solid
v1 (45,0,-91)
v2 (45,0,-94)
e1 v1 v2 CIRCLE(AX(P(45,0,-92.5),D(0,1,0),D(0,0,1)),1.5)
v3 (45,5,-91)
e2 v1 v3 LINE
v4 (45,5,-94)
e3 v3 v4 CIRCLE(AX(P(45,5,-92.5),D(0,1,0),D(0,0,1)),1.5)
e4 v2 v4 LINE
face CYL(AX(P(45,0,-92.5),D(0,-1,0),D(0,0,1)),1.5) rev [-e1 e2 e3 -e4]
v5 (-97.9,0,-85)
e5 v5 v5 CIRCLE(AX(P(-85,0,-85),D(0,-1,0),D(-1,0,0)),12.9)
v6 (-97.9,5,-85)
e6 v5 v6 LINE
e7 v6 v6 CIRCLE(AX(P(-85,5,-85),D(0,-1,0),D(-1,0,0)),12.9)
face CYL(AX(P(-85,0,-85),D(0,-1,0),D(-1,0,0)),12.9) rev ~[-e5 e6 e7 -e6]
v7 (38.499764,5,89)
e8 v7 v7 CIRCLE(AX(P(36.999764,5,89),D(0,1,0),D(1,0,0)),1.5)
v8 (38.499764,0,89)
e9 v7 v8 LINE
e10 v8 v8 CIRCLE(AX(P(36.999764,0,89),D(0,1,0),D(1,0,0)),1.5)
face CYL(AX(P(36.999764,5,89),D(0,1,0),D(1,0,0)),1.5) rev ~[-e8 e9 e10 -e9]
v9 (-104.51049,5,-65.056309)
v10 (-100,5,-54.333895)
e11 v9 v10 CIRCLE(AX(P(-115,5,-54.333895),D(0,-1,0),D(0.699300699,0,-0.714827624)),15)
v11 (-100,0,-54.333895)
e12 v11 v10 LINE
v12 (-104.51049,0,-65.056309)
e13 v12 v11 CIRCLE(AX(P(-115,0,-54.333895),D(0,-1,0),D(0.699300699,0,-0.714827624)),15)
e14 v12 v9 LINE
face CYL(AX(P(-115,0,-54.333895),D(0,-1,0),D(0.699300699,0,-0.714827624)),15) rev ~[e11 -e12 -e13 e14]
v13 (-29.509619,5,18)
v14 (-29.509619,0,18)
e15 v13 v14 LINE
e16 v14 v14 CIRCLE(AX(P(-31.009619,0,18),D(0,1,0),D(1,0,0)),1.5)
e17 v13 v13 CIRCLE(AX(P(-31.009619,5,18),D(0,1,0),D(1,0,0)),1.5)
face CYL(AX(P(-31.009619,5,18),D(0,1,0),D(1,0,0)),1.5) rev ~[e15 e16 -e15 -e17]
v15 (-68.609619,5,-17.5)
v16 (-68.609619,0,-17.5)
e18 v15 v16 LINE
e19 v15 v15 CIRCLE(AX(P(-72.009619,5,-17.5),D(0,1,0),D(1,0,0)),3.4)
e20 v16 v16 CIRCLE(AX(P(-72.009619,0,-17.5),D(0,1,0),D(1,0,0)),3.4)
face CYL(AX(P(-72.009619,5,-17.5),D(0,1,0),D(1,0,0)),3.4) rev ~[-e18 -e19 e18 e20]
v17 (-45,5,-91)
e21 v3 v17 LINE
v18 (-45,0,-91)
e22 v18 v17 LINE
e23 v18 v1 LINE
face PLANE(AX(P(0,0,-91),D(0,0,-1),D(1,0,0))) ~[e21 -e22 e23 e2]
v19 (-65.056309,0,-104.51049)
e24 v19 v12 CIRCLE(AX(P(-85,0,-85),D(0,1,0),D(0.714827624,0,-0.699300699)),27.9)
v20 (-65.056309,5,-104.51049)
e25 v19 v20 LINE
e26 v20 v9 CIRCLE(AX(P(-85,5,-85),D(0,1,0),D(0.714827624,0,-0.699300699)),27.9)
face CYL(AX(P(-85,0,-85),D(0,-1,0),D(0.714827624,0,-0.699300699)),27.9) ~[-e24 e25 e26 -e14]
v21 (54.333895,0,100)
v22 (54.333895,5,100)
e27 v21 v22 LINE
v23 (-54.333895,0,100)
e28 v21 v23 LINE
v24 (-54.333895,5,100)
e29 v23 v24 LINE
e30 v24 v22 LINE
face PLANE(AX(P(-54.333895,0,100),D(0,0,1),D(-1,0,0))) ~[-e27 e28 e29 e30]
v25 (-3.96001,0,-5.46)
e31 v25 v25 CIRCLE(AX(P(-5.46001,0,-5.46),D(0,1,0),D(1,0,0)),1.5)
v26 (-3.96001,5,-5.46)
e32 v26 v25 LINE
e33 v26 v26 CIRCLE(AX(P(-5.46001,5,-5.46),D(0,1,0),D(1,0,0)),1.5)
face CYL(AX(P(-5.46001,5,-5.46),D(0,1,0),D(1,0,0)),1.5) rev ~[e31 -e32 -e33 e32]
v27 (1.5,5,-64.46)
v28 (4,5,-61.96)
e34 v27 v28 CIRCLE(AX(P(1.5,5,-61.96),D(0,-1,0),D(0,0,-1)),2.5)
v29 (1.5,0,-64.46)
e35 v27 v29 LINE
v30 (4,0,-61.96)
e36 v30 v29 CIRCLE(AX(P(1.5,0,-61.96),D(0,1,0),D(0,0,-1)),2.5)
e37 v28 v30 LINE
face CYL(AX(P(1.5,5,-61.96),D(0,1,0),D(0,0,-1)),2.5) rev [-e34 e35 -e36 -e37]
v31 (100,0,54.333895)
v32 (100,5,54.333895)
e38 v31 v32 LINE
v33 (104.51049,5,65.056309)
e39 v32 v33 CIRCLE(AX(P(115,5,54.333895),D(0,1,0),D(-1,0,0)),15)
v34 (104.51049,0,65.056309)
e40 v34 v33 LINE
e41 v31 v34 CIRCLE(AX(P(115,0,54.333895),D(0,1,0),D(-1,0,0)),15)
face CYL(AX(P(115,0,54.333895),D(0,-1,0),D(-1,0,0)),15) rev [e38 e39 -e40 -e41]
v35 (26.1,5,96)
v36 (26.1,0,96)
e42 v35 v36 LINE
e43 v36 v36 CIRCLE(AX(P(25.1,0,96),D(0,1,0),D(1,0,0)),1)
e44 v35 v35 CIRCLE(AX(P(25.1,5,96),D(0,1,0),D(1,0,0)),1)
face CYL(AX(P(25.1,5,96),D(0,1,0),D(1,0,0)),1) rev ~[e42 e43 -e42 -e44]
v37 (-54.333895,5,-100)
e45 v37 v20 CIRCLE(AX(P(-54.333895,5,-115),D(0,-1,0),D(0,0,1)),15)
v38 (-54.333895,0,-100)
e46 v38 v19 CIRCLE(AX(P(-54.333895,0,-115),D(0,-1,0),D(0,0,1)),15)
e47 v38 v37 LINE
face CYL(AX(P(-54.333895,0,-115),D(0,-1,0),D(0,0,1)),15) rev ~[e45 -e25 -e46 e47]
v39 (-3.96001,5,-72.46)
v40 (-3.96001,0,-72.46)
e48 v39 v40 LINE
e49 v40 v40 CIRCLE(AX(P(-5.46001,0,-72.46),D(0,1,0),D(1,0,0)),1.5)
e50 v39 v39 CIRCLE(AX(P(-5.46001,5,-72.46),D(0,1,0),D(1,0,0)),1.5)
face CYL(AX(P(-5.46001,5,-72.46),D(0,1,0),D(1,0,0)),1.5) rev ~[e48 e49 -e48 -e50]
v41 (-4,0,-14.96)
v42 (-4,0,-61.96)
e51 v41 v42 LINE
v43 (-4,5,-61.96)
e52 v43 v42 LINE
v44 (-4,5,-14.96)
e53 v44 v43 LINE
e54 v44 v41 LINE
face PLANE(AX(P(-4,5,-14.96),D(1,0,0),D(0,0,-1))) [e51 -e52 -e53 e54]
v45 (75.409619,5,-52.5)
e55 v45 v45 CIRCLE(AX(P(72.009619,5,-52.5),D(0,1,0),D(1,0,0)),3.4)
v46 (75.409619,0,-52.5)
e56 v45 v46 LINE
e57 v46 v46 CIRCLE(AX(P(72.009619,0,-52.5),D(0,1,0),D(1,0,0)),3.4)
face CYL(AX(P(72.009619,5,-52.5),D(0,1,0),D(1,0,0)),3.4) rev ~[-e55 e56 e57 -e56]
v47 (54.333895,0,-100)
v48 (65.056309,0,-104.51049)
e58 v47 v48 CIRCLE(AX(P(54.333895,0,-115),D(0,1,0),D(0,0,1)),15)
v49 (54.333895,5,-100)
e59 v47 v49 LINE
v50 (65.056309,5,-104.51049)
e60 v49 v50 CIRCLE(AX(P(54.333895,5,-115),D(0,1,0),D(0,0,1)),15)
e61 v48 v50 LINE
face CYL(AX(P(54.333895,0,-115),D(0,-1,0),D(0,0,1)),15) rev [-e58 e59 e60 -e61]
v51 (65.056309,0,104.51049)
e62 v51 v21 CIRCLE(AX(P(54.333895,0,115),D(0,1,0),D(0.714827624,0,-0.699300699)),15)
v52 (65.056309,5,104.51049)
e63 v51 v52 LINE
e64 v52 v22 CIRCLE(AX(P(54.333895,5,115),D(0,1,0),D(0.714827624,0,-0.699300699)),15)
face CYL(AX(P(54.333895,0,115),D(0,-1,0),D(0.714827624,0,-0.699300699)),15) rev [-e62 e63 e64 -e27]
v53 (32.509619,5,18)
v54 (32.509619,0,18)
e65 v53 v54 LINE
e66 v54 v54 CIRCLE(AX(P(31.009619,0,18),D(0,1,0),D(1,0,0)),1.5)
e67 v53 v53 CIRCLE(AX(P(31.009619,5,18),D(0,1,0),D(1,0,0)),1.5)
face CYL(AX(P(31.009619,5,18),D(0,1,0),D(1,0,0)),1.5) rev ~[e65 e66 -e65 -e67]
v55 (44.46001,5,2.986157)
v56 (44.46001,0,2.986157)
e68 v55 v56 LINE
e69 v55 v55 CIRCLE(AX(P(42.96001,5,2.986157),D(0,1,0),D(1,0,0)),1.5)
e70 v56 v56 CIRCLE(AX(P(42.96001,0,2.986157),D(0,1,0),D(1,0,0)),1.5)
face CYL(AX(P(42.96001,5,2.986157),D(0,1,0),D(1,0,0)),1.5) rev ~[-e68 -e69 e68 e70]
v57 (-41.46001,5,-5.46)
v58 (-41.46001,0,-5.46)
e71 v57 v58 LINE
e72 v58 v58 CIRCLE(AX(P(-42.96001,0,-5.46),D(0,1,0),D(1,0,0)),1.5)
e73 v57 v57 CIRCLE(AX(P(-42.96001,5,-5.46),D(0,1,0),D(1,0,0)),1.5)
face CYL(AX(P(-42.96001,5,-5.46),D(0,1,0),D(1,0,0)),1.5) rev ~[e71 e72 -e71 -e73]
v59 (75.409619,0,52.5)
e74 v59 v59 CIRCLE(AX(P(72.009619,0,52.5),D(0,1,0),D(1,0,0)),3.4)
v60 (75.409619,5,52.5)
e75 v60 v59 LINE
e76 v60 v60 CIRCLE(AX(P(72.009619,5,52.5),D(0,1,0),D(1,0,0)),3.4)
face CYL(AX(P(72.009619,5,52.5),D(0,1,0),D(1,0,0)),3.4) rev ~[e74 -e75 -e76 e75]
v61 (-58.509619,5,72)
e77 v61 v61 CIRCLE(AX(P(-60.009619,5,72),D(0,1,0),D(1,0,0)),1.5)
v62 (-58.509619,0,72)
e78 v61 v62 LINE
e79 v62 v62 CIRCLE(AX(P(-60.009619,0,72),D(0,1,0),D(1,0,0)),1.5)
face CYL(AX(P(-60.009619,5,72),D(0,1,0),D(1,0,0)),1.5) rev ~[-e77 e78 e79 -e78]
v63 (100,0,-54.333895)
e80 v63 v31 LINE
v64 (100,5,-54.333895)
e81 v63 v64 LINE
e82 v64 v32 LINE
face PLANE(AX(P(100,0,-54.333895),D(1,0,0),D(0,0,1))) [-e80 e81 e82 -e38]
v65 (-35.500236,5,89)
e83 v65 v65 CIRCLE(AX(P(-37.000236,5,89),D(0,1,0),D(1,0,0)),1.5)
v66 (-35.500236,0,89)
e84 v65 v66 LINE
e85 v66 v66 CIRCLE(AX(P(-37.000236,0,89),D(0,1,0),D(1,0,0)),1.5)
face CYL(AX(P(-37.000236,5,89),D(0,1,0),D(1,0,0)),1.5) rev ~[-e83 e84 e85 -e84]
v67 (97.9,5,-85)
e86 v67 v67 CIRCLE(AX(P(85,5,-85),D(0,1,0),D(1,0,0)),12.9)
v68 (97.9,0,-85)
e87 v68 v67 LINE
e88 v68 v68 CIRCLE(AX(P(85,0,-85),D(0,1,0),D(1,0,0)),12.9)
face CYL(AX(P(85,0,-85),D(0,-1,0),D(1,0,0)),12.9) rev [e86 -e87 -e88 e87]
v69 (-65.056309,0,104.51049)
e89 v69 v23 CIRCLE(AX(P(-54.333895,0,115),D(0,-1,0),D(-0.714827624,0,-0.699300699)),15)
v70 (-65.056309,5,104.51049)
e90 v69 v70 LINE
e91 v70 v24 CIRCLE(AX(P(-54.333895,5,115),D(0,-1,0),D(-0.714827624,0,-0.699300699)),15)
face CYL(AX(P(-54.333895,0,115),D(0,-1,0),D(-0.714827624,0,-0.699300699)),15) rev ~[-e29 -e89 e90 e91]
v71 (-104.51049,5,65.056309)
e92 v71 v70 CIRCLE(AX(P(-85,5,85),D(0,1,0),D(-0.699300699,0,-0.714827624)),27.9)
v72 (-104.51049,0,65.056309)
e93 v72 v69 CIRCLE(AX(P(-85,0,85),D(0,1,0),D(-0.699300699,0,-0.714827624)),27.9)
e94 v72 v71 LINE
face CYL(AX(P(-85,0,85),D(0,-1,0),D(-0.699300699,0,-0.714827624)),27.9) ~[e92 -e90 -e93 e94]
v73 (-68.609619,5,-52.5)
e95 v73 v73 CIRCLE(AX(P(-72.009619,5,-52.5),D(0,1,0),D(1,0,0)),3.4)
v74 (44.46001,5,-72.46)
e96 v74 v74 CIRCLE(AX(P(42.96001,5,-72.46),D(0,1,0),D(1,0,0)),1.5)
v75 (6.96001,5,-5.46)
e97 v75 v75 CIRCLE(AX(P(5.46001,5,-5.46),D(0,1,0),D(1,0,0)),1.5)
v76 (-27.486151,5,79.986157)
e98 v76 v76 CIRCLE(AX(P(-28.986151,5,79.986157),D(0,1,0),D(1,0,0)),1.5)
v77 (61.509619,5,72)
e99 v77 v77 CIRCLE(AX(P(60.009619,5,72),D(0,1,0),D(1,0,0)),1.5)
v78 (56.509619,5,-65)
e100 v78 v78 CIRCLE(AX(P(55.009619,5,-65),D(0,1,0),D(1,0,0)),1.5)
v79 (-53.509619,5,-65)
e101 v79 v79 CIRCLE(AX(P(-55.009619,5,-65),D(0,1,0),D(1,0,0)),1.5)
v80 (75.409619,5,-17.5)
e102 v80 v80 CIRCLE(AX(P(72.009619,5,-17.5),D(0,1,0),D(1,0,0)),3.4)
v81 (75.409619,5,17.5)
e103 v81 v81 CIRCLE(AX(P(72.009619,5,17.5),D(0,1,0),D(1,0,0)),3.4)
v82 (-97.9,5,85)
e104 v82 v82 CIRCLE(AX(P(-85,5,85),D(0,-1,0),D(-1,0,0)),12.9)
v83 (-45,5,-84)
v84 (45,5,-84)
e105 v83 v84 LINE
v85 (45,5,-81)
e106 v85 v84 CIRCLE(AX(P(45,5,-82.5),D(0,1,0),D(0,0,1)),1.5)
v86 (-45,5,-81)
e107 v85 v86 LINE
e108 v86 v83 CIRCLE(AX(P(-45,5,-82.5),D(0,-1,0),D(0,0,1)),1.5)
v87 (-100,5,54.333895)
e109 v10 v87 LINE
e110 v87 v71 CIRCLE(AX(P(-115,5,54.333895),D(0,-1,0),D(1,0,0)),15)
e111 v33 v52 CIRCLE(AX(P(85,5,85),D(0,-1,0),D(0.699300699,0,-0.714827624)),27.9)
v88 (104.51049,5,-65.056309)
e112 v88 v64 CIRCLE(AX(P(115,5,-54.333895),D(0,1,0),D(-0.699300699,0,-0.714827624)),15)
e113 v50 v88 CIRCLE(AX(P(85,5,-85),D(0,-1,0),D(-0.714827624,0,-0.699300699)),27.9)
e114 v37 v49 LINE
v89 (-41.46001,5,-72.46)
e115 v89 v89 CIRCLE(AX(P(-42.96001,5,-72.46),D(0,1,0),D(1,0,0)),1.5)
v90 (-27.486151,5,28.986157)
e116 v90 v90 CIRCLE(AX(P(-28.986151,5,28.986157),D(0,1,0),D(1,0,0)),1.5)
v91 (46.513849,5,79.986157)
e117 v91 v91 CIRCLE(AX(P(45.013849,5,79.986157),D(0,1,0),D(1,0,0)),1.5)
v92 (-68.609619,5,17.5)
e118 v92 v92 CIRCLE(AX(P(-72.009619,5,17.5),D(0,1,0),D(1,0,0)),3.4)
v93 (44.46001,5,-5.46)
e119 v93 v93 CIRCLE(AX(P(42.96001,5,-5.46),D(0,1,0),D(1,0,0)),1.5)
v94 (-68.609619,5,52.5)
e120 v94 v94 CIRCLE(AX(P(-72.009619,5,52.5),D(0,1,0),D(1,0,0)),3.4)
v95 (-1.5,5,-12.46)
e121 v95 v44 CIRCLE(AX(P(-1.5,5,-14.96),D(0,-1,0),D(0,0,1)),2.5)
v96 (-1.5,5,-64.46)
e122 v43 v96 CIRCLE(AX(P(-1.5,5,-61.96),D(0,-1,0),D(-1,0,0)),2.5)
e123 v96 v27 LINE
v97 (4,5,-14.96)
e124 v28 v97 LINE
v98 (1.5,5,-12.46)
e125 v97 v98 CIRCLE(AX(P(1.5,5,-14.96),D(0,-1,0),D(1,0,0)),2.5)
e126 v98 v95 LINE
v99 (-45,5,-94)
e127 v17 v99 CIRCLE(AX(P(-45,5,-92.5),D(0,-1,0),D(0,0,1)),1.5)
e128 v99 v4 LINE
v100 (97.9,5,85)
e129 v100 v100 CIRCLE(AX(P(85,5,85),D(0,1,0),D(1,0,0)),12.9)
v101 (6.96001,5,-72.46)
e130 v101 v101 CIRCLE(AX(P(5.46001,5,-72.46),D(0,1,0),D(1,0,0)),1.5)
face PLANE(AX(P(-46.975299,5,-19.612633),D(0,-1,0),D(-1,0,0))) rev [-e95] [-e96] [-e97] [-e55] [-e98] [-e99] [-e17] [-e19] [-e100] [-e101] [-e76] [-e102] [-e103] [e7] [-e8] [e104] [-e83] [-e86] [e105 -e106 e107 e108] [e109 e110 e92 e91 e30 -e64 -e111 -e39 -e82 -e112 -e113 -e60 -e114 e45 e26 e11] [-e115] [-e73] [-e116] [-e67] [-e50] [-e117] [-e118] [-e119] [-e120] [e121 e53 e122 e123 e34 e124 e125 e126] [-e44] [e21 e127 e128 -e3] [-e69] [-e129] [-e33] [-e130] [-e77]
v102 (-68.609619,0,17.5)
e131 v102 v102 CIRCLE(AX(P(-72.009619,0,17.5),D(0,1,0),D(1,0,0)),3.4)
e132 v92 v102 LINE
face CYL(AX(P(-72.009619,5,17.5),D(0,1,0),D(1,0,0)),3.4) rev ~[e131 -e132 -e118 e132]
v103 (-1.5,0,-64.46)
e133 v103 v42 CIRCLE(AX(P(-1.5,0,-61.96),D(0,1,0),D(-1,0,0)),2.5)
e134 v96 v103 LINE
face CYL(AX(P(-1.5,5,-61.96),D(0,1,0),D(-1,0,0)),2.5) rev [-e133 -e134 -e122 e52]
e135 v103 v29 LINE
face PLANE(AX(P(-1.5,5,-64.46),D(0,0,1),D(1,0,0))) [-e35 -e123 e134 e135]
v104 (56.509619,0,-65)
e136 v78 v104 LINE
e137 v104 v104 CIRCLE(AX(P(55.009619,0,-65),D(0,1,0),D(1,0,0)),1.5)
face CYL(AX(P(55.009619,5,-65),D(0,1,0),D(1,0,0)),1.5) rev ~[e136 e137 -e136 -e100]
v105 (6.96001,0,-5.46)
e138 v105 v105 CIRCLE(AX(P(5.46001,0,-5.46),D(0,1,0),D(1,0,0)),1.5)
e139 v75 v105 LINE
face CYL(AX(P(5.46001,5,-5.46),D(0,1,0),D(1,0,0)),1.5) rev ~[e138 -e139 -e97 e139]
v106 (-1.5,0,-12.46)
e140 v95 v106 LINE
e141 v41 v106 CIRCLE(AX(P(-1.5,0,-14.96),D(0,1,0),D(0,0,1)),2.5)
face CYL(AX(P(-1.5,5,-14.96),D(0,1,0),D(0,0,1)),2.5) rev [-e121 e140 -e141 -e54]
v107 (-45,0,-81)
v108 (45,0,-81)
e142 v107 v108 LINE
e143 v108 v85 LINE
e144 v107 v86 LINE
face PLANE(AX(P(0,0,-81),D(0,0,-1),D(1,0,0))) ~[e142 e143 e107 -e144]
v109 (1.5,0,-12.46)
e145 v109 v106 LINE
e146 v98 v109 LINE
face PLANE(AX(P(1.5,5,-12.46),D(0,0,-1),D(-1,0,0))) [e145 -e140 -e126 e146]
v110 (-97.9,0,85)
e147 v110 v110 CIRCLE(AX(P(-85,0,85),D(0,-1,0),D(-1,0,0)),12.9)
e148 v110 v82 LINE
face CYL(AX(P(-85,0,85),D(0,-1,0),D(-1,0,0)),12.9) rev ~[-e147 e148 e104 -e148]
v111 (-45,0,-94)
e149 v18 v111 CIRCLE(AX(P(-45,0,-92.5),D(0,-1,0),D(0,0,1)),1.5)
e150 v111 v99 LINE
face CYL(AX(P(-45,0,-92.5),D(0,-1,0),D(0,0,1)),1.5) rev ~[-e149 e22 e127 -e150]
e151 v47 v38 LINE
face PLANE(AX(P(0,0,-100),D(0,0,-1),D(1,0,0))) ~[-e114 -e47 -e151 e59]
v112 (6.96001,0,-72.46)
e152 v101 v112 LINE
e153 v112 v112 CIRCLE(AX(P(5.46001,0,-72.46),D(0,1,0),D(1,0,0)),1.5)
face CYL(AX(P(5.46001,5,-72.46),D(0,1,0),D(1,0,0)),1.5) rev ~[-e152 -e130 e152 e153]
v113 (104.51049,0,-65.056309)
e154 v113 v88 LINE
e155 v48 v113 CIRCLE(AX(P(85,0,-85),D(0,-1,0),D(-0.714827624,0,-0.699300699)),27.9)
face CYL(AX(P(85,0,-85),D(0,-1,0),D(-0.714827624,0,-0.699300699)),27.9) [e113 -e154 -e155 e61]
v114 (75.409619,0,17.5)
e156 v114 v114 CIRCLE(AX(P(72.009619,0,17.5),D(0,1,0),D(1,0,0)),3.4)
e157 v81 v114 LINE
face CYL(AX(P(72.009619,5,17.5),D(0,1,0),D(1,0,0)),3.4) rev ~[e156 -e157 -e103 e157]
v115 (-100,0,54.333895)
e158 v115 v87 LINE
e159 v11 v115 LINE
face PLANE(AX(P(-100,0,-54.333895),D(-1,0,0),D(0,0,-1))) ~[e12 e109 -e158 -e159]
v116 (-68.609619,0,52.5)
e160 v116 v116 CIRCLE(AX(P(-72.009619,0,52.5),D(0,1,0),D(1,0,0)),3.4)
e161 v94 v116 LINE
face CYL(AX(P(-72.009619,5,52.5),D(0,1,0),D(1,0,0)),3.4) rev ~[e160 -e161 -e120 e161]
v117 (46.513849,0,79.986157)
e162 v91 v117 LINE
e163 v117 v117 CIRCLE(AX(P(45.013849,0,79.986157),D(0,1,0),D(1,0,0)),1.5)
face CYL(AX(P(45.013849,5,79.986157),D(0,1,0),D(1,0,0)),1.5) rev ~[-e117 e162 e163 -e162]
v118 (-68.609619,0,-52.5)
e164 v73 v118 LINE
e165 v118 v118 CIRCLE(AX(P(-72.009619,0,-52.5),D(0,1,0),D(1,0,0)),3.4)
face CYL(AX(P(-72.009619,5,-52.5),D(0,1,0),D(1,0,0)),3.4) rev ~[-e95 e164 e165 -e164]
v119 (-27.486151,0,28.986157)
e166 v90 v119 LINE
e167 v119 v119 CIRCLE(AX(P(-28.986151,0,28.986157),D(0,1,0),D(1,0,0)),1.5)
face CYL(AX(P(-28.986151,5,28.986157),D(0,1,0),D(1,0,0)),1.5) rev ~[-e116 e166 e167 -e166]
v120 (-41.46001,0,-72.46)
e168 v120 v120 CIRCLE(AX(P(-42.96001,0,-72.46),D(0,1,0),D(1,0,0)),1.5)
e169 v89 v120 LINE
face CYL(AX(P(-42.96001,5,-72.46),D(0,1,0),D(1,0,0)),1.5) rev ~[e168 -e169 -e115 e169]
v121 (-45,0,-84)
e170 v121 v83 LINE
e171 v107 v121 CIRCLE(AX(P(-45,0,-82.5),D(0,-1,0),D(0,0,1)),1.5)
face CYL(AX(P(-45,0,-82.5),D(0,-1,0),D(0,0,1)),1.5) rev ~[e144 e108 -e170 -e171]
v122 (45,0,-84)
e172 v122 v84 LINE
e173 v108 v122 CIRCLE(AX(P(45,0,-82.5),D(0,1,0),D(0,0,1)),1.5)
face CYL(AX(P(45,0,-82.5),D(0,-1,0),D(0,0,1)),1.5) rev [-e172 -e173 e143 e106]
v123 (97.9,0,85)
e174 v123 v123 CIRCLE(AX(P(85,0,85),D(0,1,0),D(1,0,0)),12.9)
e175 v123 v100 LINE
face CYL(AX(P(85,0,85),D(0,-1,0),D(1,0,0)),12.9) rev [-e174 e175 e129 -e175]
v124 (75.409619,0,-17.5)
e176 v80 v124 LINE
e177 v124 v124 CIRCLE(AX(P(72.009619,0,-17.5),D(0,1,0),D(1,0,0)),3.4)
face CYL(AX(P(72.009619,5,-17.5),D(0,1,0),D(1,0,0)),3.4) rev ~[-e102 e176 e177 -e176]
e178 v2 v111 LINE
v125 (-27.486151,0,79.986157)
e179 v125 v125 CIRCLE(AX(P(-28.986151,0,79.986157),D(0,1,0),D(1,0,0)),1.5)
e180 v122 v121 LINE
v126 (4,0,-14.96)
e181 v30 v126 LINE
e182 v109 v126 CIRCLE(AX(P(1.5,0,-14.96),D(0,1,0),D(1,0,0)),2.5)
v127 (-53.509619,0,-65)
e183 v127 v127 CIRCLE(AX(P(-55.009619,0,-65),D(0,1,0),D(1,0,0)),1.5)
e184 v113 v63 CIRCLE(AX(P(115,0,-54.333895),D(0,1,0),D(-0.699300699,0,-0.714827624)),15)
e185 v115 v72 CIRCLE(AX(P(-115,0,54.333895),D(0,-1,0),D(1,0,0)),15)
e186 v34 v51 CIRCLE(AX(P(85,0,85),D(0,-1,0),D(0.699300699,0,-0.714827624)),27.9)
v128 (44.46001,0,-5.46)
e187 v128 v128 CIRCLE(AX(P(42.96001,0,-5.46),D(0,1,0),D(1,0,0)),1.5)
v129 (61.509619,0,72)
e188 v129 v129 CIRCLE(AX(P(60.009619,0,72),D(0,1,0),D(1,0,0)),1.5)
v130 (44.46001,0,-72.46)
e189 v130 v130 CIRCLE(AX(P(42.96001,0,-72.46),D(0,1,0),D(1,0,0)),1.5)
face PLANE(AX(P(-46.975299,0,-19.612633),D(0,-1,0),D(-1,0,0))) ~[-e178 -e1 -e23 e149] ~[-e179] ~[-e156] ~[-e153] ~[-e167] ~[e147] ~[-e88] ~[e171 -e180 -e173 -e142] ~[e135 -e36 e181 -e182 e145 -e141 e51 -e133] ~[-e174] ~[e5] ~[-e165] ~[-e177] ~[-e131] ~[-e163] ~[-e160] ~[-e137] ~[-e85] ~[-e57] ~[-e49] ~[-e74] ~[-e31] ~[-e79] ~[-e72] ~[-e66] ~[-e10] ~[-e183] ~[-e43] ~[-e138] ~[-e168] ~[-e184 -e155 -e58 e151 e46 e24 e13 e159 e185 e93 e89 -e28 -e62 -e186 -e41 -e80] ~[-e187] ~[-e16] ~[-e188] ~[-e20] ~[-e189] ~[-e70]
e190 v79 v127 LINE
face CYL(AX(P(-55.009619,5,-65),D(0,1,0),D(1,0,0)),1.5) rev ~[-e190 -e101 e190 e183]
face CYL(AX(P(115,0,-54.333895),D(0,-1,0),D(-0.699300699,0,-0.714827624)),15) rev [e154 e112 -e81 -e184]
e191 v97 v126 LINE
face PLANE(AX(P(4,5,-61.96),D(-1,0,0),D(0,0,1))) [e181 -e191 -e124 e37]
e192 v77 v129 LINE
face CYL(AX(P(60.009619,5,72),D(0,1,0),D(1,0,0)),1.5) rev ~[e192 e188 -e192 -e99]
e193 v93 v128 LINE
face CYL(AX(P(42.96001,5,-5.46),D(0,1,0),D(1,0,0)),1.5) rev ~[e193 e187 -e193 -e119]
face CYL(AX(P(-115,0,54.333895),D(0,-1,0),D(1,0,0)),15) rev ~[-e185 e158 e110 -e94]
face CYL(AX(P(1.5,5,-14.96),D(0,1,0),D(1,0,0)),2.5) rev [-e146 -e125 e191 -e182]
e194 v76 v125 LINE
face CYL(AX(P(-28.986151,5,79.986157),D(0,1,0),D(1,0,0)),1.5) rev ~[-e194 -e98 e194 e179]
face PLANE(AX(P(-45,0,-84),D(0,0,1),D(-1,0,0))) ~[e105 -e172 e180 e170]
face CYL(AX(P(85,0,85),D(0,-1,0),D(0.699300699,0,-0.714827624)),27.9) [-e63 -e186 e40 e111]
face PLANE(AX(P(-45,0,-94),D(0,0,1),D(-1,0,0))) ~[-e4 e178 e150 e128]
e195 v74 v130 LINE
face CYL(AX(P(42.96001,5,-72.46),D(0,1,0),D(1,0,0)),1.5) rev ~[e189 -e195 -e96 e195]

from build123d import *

# Parameters (mm, degrees)
SKETCH1_R          = 12.9
BASE_DEPTH         = 5
SKETCH2_R          = 1.5
SKETCH2_R_2        = 3.4
SKETCH2_R_3        = 1
CUT_EXTRUDE1_DEPTH = 6
CUT_EXTRUDE2_DEPTH = 6
SKETCH4_R          = 1.5
CUT_EXTRUDE3_DEPTH = 6


with BuildPart() as part:
    # Sketch1 → Base (new body)
    with BuildSketch(Plane(origin=(0, 0, 0), x_dir=(1, 0, 0), z_dir=(0, 1, 0))):
        with BuildLine():
            Line((0, 100), (54.333894933, 100))
            ThreePointArc((54.333894933, 100), (60.150136961, 101.173527975), (65.056309292, 104.51048951))
            ThreePointArc((65.056309292, 104.51048951), (104.728279195, 104.728279195), (104.51048951, 65.056309292))
            ThreePointArc((104.51048951, 65.056309292), (101.173527975, 60.150136961), (100, 54.333894933))
            Line((100, 54.333894933), (100, -54.333894933))
            ThreePointArc((100, -54.333894933), (101.173527975, -60.150136961), (104.51048951, -65.056309292))
            ThreePointArc((104.51048951, -65.056309292), (104.728279195, -104.728279195), (65.056309292, -104.51048951))
            ThreePointArc((65.056309292, -104.51048951), (60.150136961, -101.173527975), (54.333894933, -100))
            Line((54.333894933, -100), (0, -100))
            Line((0, -100), (0, 81))
            Line((0, 81), (45, 81))
            ThreePointArc((45, 81), (46.5, 82.5), (45, 84))
            Line((45, 84), (0, 84))
            Line((0, 84), (0, 91))
            Line((0, 91), (45, 91))
            ThreePointArc((45, 91), (46.5, 92.5), (45, 94))
            Line((45, 94), (0, 94))
            Line((0, 94), (0, 100))
        make_face()
        with Locations((85, 85)):
            Circle(SKETCH1_R, mode=Mode.SUBTRACT)
        with Locations((85, -85)):
            Circle(SKETCH1_R, mode=Mode.SUBTRACT)
    base = extrude(amount=BASE_DEPTH)

    # Mirror1: Base across plane
    add(base.mirror(Plane(origin=(0, 0, 0), x_dir=(0, 0, 1), z_dir=(1, 0, 0))))

    # Sketch2 → Cut-Extrude1 (cut, through all)
    with BuildSketch(Plane(origin=(0, 5, 0), x_dir=(1, 0, 0), z_dir=(0, 1, 0))):
        with Locations((-42.960009902, 72.46)):
            Circle(SKETCH2_R)
        with Locations((-5.460009902, 72.46)):
            Circle(SKETCH2_R)
        with Locations((5.460009902, 72.46)):
            Circle(SKETCH2_R)
        with Locations((42.960009902, 72.46)):
            Circle(SKETCH2_R)
        with Locations((72.009618943, 52.5)):
            Circle(SKETCH2_R_2)
        with Locations((-28.986150524, -79.986157497)):
            Circle(SKETCH2_R)
        with Locations((72.009618943, -17.5)):
            Circle(SKETCH2_R_2)
        with Locations((72.009618943, -52.5)):
            Circle(SKETCH2_R_2)
        with Locations((42.960009902, 5.46)):
            Circle(SKETCH2_R)
        with Locations((42.960009902, -2.986157497)):
            Circle(SKETCH2_R)
        with Locations((5.460009902, 5.46)):
            Circle(SKETCH2_R)
        with Locations((-5.460009902, 5.46)):
            Circle(SKETCH2_R)
        with Locations((-28.986150524, -28.986157497)):
            Circle(SKETCH2_R)
        with Locations((-42.960009902, 5.46)):
            Circle(SKETCH2_R)
        with Locations((-72.009618943, 52.5)):
            Circle(SKETCH2_R_2)
        with Locations((-72.009618943, -17.5)):
            Circle(SKETCH2_R_2)
        with Locations((-72.009618943, -52.5)):
            Circle(SKETCH2_R_2)
        with Locations((45.013849476, -79.986157497)):
            Circle(SKETCH2_R)
        with Locations((36.999763655, -89)):
            Circle(SKETCH2_R)
        with Locations((-37.000236345, -89)):
            Circle(SKETCH2_R)
        with Locations((-72.009618943, 17.5)):
            Circle(SKETCH2_R_2)
        with Locations((72.009618943, 17.5)):
            Circle(SKETCH2_R_2)
        with Locations((25.1, -96)):
            Circle(SKETCH2_R_3)
    extrude(amount=-CUT_EXTRUDE1_DEPTH, mode=Mode.SUBTRACT)

    # Sketch3 → Cut-Extrude2 (cut, through all)
    with BuildSketch(Plane(origin=(0, 5, 0), x_dir=(1, 0, 0), z_dir=(0, 1, 0))):
        with BuildLine():
            Line((0, 64.46), (1.5, 64.46))
            ThreePointArc((1.5, 64.46), (3.267766953, 63.727766953), (4, 61.96))
            Line((4, 61.96), (4, 14.96))
            ThreePointArc((4, 14.96), (3.267766953, 13.192233047), (1.5, 12.46))
            Line((1.5, 12.46), (-1.5, 12.46))
            ThreePointArc((-1.5, 12.46), (-3.267766953, 13.192233047), (-4, 14.96))
            Line((-4, 14.96), (-4, 61.96))
            ThreePointArc((-4, 61.96), (-3.267766953, 63.727766953), (-1.5, 64.46))
            Line((-1.5, 64.46), (0, 64.46))
        make_face()
    extrude(amount=-CUT_EXTRUDE2_DEPTH, mode=Mode.SUBTRACT)

    # Sketch4 → Cut-Extrude3 (cut, through all)
    with BuildSketch(Plane(origin=(0, 5, 0), x_dir=(1, 0, 0), z_dir=(0, 1, 0))):
        with Locations((-55.009618943, 65)):
            Circle(SKETCH4_R)
        with Locations((55.009618943, 65)):
            Circle(SKETCH4_R)
        with Locations((-60.009618943, -72)):
            Circle(SKETCH4_R)
        with Locations((60.009618943, -72)):
            Circle(SKETCH4_R)
        with Locations((31.009618943, -18)):
            Circle(SKETCH4_R)
        with Locations((-31.009618943, -18)):
            Circle(SKETCH4_R)
    extrude(amount=-CUT_EXTRUDE3_DEPTH, mode=Mode.SUBTRACT)


solid = part.part
